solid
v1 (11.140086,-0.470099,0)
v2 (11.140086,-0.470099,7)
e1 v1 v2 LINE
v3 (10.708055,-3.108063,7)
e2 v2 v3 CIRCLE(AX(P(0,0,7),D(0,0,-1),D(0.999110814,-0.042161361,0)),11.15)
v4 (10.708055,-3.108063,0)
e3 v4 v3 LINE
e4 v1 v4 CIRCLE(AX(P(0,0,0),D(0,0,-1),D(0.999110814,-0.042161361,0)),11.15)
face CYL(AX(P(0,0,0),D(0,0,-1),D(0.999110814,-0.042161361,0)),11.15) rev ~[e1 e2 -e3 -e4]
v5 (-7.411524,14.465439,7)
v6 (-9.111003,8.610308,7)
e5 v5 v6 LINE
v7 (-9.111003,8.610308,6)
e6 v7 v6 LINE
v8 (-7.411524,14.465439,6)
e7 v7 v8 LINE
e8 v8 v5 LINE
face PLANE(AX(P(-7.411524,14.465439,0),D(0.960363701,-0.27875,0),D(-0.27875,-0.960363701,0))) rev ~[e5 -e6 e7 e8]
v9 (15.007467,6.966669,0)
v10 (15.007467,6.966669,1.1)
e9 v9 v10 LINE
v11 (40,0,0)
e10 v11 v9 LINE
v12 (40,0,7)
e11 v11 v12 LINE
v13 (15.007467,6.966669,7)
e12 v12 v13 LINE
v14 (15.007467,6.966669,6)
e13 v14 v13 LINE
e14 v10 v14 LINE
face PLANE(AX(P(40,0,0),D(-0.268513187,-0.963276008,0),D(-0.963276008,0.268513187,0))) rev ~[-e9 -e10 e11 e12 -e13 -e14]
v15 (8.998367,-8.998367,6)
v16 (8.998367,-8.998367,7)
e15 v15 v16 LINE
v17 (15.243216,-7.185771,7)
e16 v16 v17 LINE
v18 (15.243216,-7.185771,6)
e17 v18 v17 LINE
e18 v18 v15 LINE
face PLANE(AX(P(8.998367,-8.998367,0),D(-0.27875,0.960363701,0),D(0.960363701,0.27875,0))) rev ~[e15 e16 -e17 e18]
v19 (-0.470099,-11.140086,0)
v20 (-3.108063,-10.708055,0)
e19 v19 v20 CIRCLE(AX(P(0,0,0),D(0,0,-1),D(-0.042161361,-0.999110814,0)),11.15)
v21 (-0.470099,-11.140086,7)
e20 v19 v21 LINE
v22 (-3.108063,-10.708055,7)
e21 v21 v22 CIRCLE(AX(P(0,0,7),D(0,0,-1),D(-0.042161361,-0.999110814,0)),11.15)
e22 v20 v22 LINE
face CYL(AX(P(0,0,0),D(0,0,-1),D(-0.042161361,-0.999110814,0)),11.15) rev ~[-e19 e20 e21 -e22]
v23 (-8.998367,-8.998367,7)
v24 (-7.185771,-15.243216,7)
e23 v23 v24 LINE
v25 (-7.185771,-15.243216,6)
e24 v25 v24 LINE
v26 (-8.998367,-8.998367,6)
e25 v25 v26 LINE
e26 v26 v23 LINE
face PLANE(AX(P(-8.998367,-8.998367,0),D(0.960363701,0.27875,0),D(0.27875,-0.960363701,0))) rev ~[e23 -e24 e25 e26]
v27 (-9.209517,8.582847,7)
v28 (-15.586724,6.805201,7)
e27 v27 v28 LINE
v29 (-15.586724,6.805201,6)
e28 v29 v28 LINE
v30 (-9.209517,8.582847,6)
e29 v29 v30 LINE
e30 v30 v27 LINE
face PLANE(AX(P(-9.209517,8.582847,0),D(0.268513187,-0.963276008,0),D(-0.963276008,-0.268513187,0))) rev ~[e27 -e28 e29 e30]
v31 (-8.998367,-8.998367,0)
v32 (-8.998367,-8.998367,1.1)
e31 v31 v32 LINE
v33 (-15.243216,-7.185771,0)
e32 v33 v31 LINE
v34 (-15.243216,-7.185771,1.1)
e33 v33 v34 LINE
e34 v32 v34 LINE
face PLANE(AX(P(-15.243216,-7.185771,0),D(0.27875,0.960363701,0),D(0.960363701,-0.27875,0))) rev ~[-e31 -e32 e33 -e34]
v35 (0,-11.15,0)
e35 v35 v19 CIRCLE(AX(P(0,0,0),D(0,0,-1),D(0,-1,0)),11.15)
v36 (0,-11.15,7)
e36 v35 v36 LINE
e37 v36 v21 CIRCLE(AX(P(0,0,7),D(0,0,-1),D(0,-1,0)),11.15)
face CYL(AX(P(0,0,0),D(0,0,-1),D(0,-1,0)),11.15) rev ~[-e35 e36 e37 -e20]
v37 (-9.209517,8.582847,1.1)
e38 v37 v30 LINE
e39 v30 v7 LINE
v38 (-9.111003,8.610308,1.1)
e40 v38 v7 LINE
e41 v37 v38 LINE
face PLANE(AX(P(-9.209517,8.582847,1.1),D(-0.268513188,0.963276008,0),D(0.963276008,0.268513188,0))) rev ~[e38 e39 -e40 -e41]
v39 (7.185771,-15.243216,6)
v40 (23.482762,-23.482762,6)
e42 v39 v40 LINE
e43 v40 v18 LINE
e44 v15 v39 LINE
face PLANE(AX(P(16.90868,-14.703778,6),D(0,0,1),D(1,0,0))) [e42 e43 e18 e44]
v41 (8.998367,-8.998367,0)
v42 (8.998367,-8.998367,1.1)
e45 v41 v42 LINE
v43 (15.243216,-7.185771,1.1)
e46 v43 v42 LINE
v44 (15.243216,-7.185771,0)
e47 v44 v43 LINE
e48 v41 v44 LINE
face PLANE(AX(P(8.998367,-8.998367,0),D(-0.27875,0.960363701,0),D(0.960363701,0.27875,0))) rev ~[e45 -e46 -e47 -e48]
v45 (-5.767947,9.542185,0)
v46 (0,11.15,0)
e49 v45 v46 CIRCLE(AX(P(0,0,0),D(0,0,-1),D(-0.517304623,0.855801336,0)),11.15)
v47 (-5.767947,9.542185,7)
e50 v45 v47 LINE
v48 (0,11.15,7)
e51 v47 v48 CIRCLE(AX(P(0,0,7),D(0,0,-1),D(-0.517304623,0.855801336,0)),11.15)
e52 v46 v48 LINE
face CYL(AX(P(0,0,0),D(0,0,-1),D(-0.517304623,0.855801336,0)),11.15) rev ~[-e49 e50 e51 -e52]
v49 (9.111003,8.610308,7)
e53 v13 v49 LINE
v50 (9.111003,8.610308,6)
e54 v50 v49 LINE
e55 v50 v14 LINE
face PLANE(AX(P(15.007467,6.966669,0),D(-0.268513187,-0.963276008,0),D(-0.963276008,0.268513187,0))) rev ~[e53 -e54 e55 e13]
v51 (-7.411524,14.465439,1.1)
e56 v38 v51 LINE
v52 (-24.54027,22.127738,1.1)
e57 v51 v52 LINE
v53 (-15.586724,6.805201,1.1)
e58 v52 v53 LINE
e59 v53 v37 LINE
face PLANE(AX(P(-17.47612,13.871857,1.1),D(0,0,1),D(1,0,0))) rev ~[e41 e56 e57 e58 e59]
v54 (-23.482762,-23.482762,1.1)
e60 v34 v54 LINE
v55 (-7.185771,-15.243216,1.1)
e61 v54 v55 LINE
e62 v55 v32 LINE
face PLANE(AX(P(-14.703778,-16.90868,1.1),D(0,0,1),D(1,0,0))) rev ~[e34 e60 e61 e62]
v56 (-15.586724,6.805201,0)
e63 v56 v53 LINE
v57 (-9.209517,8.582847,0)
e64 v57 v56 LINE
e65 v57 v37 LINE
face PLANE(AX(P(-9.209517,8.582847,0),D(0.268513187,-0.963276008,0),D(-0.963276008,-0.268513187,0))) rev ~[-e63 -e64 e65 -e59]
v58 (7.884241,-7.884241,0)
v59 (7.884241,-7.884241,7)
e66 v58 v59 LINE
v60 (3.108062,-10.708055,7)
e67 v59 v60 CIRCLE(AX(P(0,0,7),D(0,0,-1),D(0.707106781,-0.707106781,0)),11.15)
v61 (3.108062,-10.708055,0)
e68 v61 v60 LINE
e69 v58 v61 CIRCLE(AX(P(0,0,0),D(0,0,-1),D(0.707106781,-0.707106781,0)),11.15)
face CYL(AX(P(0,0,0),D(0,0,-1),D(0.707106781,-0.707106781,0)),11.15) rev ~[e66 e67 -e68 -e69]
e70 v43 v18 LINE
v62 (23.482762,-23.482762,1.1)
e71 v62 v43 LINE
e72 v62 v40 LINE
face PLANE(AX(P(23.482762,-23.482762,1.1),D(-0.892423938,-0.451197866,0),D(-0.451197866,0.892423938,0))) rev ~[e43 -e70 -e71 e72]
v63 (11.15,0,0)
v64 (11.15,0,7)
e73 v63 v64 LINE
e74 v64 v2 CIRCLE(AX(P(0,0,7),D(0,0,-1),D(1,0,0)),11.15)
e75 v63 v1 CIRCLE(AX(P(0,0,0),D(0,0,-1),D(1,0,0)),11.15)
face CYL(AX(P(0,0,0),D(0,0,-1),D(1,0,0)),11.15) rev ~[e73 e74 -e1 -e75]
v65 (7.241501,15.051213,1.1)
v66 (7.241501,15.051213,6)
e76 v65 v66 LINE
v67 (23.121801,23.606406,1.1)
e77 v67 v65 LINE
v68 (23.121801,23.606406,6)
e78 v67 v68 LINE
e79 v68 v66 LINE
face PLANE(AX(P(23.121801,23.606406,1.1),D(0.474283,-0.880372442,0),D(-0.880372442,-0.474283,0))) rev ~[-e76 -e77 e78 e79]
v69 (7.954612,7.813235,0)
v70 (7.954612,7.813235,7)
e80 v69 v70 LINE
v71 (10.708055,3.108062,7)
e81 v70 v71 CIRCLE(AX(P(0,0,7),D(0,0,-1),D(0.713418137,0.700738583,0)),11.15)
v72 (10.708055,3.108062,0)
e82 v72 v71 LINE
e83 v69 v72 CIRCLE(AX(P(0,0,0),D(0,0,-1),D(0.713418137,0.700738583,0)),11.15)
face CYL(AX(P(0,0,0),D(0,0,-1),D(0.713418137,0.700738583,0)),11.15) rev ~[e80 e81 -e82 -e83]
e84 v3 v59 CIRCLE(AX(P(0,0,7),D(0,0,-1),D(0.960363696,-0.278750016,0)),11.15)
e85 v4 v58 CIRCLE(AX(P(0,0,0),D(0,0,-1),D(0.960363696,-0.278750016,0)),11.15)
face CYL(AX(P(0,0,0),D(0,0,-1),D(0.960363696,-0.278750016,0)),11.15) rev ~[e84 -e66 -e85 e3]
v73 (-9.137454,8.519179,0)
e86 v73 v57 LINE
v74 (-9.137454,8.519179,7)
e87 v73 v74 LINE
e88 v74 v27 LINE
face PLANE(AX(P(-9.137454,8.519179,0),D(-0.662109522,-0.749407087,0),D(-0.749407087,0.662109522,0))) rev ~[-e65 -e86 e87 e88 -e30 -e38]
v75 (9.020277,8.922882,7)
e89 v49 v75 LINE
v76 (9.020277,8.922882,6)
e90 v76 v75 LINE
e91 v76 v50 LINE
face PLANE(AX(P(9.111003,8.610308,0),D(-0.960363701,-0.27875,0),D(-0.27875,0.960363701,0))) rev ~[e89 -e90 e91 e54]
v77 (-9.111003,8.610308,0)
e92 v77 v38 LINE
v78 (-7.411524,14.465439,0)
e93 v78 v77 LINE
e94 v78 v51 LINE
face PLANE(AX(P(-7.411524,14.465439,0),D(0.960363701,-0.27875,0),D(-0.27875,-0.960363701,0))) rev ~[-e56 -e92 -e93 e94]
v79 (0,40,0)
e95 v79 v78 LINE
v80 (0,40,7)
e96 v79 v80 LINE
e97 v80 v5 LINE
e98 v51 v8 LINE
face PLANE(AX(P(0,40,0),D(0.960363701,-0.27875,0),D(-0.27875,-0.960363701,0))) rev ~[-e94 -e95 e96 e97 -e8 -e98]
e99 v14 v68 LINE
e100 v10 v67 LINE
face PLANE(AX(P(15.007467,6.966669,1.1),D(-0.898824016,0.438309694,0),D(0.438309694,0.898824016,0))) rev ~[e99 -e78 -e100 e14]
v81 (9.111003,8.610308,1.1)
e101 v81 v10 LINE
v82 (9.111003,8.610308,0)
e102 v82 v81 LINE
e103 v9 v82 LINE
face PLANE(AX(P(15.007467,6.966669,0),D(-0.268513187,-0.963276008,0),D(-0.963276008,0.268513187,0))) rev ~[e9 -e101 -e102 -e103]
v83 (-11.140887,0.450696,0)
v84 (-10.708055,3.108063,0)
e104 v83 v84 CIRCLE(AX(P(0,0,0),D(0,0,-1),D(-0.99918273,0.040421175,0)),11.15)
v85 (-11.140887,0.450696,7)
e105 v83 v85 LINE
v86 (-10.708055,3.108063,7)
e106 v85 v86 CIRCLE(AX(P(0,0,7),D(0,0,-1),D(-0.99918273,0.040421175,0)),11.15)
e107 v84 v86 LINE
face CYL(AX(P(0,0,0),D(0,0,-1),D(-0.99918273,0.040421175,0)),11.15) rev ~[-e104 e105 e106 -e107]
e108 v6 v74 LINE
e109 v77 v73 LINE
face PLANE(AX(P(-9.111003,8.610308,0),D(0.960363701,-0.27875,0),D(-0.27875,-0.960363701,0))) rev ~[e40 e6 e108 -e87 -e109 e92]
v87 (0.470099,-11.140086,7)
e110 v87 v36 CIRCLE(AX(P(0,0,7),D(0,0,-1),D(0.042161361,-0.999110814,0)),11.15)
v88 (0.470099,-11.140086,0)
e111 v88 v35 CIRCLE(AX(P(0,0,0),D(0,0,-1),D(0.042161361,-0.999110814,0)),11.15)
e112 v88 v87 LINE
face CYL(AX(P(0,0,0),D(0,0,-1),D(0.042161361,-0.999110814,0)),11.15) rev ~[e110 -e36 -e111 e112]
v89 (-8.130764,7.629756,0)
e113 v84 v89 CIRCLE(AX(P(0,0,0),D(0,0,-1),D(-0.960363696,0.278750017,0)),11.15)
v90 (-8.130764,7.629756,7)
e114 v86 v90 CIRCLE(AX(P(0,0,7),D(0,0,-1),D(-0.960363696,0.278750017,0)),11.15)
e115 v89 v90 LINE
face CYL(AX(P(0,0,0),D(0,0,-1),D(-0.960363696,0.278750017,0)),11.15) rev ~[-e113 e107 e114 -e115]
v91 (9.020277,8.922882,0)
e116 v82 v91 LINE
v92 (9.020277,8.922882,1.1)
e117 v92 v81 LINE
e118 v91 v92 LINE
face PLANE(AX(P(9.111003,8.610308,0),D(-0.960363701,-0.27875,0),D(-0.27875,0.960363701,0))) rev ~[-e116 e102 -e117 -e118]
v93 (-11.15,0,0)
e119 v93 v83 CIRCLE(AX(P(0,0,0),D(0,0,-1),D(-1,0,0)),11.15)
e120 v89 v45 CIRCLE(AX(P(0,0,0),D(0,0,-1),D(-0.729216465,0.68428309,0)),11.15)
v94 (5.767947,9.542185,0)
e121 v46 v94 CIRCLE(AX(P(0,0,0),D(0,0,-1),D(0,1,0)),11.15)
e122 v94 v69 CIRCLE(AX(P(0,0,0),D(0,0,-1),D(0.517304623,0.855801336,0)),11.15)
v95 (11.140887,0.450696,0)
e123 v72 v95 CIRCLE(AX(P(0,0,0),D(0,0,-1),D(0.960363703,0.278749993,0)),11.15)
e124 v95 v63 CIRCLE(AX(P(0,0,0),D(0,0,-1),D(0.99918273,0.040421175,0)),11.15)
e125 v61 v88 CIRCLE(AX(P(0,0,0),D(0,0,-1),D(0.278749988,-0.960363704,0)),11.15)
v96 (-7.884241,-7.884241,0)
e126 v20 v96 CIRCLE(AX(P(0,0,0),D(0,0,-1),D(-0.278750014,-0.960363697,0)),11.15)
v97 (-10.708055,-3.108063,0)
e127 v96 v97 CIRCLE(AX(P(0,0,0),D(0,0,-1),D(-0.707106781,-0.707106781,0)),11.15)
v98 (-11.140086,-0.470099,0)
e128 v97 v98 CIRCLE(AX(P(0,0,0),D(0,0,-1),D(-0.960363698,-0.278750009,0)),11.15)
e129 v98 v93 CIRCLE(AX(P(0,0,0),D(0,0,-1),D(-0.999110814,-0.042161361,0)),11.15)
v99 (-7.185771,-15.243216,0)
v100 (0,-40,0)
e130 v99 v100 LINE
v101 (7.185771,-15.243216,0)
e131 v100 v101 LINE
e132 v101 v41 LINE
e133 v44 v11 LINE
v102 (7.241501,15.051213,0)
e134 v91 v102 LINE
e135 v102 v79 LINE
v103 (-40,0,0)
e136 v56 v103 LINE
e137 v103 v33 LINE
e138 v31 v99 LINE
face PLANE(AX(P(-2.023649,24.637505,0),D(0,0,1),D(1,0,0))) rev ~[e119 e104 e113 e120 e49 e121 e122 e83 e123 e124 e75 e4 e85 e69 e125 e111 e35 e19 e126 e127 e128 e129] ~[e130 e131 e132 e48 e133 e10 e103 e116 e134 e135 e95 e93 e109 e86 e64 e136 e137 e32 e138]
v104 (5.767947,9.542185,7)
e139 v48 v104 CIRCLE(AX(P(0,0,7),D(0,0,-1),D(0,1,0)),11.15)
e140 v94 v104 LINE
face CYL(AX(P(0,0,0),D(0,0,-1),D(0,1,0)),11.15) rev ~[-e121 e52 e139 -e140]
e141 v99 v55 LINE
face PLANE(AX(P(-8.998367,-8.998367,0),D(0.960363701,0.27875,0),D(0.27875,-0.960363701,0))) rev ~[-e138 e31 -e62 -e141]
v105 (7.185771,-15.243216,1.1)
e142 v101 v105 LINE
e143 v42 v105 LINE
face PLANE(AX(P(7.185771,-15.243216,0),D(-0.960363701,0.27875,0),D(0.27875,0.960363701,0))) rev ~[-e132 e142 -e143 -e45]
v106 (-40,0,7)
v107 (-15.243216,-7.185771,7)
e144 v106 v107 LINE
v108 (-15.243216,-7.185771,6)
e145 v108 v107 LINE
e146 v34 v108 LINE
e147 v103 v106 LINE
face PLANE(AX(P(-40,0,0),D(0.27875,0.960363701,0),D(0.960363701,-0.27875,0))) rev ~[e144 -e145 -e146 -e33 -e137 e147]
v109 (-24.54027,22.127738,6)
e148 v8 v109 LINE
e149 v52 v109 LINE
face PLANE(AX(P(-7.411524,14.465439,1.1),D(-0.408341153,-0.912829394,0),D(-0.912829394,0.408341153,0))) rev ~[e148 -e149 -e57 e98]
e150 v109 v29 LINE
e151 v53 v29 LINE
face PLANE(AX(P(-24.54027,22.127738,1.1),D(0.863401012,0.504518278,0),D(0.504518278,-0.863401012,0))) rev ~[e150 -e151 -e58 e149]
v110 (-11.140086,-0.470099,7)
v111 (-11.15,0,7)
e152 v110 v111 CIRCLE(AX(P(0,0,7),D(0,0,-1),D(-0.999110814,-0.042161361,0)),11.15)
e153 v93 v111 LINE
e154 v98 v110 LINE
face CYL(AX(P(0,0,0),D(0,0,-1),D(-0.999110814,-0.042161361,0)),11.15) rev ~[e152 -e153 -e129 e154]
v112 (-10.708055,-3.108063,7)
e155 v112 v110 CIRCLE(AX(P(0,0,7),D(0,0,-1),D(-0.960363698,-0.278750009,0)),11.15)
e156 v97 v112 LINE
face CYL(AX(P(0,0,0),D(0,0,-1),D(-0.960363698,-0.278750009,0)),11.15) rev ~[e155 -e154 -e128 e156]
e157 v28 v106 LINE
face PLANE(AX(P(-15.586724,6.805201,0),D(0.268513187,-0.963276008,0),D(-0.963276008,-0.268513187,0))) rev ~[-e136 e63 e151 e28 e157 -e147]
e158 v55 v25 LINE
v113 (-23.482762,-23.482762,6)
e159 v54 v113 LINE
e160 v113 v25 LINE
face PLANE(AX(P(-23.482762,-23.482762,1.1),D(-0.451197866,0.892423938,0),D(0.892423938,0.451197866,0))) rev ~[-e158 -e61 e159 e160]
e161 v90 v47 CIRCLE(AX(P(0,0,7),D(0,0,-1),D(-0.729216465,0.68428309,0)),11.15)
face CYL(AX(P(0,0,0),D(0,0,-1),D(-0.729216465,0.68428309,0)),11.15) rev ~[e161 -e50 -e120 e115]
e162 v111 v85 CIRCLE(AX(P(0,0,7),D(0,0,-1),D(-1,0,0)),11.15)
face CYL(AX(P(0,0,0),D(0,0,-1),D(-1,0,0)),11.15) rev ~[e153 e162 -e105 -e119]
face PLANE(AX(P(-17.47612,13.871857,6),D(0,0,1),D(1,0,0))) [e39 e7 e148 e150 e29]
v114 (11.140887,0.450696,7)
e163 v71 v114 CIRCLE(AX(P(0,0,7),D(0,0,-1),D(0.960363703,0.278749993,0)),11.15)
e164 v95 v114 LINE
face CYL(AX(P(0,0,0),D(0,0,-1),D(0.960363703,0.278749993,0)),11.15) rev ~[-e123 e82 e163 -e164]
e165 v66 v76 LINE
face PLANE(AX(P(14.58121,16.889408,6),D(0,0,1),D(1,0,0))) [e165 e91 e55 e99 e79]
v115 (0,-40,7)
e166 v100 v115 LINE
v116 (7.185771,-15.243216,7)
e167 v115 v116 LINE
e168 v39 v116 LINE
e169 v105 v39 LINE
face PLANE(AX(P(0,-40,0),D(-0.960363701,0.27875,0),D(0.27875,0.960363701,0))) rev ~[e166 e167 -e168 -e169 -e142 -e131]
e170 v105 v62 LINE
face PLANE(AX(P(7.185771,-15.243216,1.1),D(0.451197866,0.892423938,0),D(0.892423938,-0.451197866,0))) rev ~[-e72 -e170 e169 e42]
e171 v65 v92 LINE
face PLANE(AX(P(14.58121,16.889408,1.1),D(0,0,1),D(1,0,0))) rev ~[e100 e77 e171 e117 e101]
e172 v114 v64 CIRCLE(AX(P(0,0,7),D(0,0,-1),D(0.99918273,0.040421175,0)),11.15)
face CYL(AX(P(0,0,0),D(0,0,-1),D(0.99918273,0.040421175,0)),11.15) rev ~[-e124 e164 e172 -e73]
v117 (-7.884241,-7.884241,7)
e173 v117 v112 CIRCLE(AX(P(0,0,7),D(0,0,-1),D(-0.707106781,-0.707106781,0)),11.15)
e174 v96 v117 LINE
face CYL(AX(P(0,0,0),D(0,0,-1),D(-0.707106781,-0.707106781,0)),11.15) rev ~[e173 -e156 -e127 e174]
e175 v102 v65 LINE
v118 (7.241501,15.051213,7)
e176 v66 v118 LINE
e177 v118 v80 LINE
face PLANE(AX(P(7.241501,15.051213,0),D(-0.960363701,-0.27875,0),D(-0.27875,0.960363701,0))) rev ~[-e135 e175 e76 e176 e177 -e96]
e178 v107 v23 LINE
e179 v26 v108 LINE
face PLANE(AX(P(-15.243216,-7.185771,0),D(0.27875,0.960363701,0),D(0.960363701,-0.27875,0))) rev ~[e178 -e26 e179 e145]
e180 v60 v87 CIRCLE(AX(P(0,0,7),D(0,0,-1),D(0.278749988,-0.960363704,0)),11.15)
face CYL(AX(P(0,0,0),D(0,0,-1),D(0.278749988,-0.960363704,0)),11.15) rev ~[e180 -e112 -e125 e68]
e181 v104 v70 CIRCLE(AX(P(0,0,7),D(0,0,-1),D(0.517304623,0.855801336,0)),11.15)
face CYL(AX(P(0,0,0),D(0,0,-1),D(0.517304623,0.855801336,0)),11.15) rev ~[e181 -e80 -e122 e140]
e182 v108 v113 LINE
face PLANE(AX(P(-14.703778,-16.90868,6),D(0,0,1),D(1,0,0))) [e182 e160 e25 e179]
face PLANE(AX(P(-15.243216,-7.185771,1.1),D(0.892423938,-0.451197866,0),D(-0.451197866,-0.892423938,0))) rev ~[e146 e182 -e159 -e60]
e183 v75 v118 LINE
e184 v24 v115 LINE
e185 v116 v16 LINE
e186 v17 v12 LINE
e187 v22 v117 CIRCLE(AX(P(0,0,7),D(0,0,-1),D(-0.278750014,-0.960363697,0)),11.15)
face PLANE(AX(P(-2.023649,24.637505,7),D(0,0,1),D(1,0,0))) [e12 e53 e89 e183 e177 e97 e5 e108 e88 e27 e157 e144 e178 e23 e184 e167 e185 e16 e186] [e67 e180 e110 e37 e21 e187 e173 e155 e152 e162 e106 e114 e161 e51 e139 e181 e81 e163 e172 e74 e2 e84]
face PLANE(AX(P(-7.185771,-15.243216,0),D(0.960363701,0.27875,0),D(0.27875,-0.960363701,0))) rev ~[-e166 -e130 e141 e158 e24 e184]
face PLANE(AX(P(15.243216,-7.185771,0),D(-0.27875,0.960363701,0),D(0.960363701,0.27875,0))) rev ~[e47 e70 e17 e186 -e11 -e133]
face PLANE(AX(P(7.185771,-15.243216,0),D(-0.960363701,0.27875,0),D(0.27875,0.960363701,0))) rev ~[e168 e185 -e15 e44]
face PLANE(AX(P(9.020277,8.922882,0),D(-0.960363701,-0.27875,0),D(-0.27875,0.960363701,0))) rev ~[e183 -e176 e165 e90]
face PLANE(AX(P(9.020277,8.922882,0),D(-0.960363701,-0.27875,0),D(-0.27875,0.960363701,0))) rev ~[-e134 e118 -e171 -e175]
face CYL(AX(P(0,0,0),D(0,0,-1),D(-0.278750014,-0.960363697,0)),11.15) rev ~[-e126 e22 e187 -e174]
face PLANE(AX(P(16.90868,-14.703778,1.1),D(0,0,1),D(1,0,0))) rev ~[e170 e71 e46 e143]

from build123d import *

# Parameters (mm, degrees)
F1_DEPTH = 7
F2_START = 1.1
F2_DEPTH = 4.9


with BuildPart() as f1:
    # F0 (on Top) → F1 (new body)
    with BuildSketch(Plane.XY):
        Polygon((-7.4115242199, 14.465439185), (0, 11.15), (0, 40), align=None)
        Polygon((0, 40), (0, 11.15), (7.2415005954, 15.0512132379), align=None)
        Polygon((-40, 0), (-11.6101847588, 0), (-15.5867241284, 6.8052006492), align=None)
        Polygon((-15.2432164393, -7.1857707793), (-11.6101847588, 0), (-40, 0), align=None)
        Polygon((0, -40), (0, -11.6101847588), (-7.1857707793, -15.2432164393), align=None)
        Polygon((7.1857707793, -15.2432164393), (0, -11.6101847588), (0, -40), align=None)
        Polygon((40, 0), (11.6101847588, 0), (15.2432164393, -7.1857707793), align=None)
        Polygon((15.0074665088, 6.9666687107), (11.6101847588, 0), (40, 0), align=None)
        with BuildLine():
            ThreePointArc((-5.7679465413, 9.5421849016), (-2.9939220387, 10.7405274929), (0, 11.15))
            Line((0, 11.15), (-7.4115242199, 14.465439185))
            Line((-7.4115242199, 14.465439185), (-9.1110031263, 8.6103078786))
            Line((-9.1110031263, 8.6103078786), (-5.7679465413, 9.5421849016))
        make_face()
        Polygon((10.7080552853, 3.1080624202), (11.6101847588, 0), (15.0074665088, 6.9666687107), (9.1110031263, 8.6103078786), align=None)
        Polygon((-10.7080552332, -3.1080625996), (-11.6101847588, 0), (-15.2432164393, -7.1857707793), (-8.9983671347, -8.9983671347), align=None)
        Polygon((-7.1857707793, -15.2432164393), (0, -11.6101847588), (-3.1080626541, -10.7080552174), (-8.9983671347, -8.9983671347), align=None)
        Polygon((7.1857707793, -15.2432164393), (8.9983671347, -8.9983671347), (3.1080623688, -10.7080553002), (0, -11.6101847588), align=None)
        Polygon((15.2432164393, -7.1857707793), (11.6101847588, 0), (10.708055209, -3.1080626829), (8.9983671347, -8.9983671347), align=None)
        with BuildLine():
            Line((7.2415005954, 15.0512132379), (0, 11.15))
            ThreePointArc((0, 11.15), (2.9939220387, 10.7405274929), (5.7679465413, 9.5421849016))
            Line((5.7679465413, 9.5421849016), (8.8026408844, 8.6962638535))
            Line((8.8026408844, 8.6962638535), (9.02027697, 8.9228822539))
            Line((9.02027697, 8.9228822539), (7.2415005954, 15.0512132379))
        make_face()
        Polygon((-15.5867241284, 6.8052006492), (-11.6101847588, 0), (-10.7080552075, 3.108062688), (-9.1374538419, 8.5191785256), (-9.2095170056, 8.5828471347), align=None)
        with BuildLine():
            ThreePointArc((-10.7080552075, 3.108062688), (-9.6869346026, 5.5213945707), (-8.1307635844, 7.6297564532))
            Line((-8.1307635844, 7.6297564532), (-9.1374538419, 8.5191785256))
            Line((-9.1374538419, 8.5191785256), (-10.7080552075, 3.108062688))
        make_face()
        with BuildLine():
            ThreePointArc((5.7679465413, 9.5421849016), (6.9155239519, 8.7463151367), (7.9546122238, 7.813235205))
            Line((7.9546122238, 7.813235205), (8.8026408844, 8.6962638535))
            Line((8.8026408844, 8.6962638535), (5.7679465413, 9.5421849016))
        make_face()
        with BuildLine():
            ThreePointArc((-8.1307635844, 7.6297564532), (-7.0148329583, 8.6668690176), (-5.7679465413, 9.5421849016))
            Line((-5.7679465413, 9.5421849016), (-9.1110031263, 8.6103078786))
            Line((-9.1110031263, 8.6103078786), (-9.1374538419, 8.5191785256))
            Line((-9.1374538419, 8.5191785256), (-8.1307635844, 7.6297564532))
        make_face()
        with BuildLine():
            ThreePointArc((7.9546122238, 7.813235205), (9.6233285495, 5.631522674), (10.7080552853, 3.1080624202))
            Line((10.7080552853, 3.1080624202), (9.1110031263, 8.6103078786))
            Line((9.1110031263, 8.6103078786), (8.8026408844, 8.6962638535))
            Line((8.8026408844, 8.6962638535), (7.9546122238, 7.813235205))
        make_face()
        with BuildLine():
            Line((8.9983671347, -8.9983671347), (7.8842406102, -7.8842406102))
            ThreePointArc((7.8842406102, -7.8842406102), (5.6746069068, -9.5979860624), (3.1080623688, -10.7080553002))
            Line((3.1080623688, -10.7080553002), (8.9983671347, -8.9983671347))
        make_face()
        with BuildLine():
            Line((8.9983671347, -8.9983671347), (10.708055209, -3.1080626829))
            ThreePointArc((10.708055209, -3.1080626829), (9.5979859792, -5.6746070475), (7.8842406102, -7.8842406102))
            Line((7.8842406102, -7.8842406102), (8.9983671347, -8.9983671347))
        make_face()
        with BuildLine():
            Line((-8.9983671347, -8.9983671347), (-3.1080626541, -10.7080552174))
            ThreePointArc((-3.1080626541, -10.7080552174), (-5.6746070346, -9.5979859868), (-7.8842406102, -7.8842406102))
            Line((-7.8842406102, -7.8842406102), (-8.9983671347, -8.9983671347))
        make_face()
        with BuildLine():
            ThreePointArc((-7.8842406102, -7.8842406102), (-9.5979860012, -5.6746070102), (-10.7080552332, -3.1080625996))
            Line((-10.7080552332, -3.1080625996), (-8.9983671347, -8.9983671347))
            Line((-8.9983671347, -8.9983671347), (-7.8842406102, -7.8842406102))
        make_face()
        with BuildLine():
            ThreePointArc((-10.7080552332, -3.1080625996), (-11.0034097906, -1.8020746324), (-11.1400855815, -0.4700991772))
            Line((-11.1400855815, -0.4700991772), (-11.6101847588, 0))
            Line((-11.6101847588, 0), (-10.7080552332, -3.1080625996))
        make_face()
        with BuildLine():
            ThreePointArc((-11.1400855815, -0.4700991772), (-11.1475211198, -0.2351018567), (-11.15, 0))
            Line((-11.15, 0), (-11.6101847588, 0))
            Line((-11.6101847588, 0), (-11.1400855815, -0.4700991772))
        make_face()
        with BuildLine():
            Line((-11.6101847588, 0), (-11.15, 0))
            ThreePointArc((-11.15, 0), (-11.147721628, 0.22539411), (-11.1408874431, 0.4506961068))
            Line((-11.1408874431, 0.4506961068), (-11.6101847588, 0))
        make_face()
        with BuildLine():
            Line((-11.6101847588, 0), (-11.1408874431, 0.4506961068))
            ThreePointArc((-11.1408874431, 0.4506961068), (-11.0049749216, 1.7924918343), (-10.7080552075, 3.108062688))
            Line((-10.7080552075, 3.108062688), (-11.6101847588, 0))
        make_face()
        with BuildLine():
            Line((11.6101847588, 0), (11.1400855815, -0.4700991772))
            ThreePointArc((11.1400855815, -0.4700991772), (11.0034097836, -1.8020746752), (10.708055209, -3.1080626829))
            Line((10.708055209, -3.1080626829), (11.6101847588, 0))
        make_face()
        with BuildLine():
            Line((11.6101847588, 0), (11.15, 0))
            ThreePointArc((11.15, 0), (11.1475211198, -0.2351018567), (11.1400855815, -0.4700991772))
            Line((11.1400855815, -0.4700991772), (11.6101847588, 0))
        make_face()
        with BuildLine():
            ThreePointArc((11.1408874431, 0.4506961068), (11.147721628, 0.22539411), (11.15, 0))
            Line((11.15, 0), (11.6101847588, 0))
            Line((11.6101847588, 0), (11.1408874431, 0.4506961068))
        make_face()
        with BuildLine():
            ThreePointArc((10.7080552853, 3.1080624202), (11.004974944, 1.7924916967), (11.1408874431, 0.4506961068))
            Line((11.1408874431, 0.4506961068), (11.6101847588, 0))
            Line((11.6101847588, 0), (10.7080552853, 3.1080624202))
        make_face()
        Polygon((8.8026408844, 8.6962638535), (9.1110031263, 8.6103078786), (9.02027697, 8.9228822539), align=None)
        with BuildLine():
            Line((0, -11.6101847588), (-0.4700991772, -11.1400855815))
            ThreePointArc((-0.4700991772, -11.1400855815), (-1.8020746604, -11.003409786), (-3.1080626541, -10.7080552174))
            Line((-3.1080626541, -10.7080552174), (0, -11.6101847588))
        make_face()
        with BuildLine():
            ThreePointArc((0.4700991772, -11.1400855815), (0.2351018567, -11.1475211198), (0, -11.15))
            Line((0, -11.15), (0, -11.6101847588))
            Line((0, -11.6101847588), (0.4700991772, -11.1400855815))
        make_face()
        with BuildLine():
            ThreePointArc((3.1080623688, -10.7080553002), (1.8020745138, -11.00340981), (0.4700991772, -11.1400855815))
            Line((0.4700991772, -11.1400855815), (0, -11.6101847588))
            Line((0, -11.6101847588), (3.1080623688, -10.7080553002))
        make_face()
        with BuildLine():
            Line((0, -11.6101847588), (0, -11.15))
            ThreePointArc((0, -11.15), (-0.2351018567, -11.1475211198), (-0.4700991772, -11.1400855815))
            Line((-0.4700991772, -11.1400855815), (0, -11.6101847588))
        make_face()
    extrude(amount=F1_DEPTH)

    # F0 (on Top) → F2 (join)
    with BuildSketch(Plane.XY.offset(F2_START)):
        Polygon((-9.2095170056, 8.5828471347), (-24.540269553, 22.1277380295), (-15.5867241284, 6.8052006492), align=None)
        Polygon((-9.1110031263, 8.6103078786), (-7.4115242199, 14.465439185), (-24.540269553, 22.1277380295), (-9.2095170056, 8.5828471347), align=None)
        Polygon((23.1218005728, 23.6064064161), (7.2415005954, 15.0512132379), (9.02027697, 8.9228822539), align=None)
        Polygon((9.1110031263, 8.6103078786), (15.0074665088, 6.9666687107), (23.1218005728, 23.6064064161), (9.02027697, 8.9228822539), align=None)
        Polygon((23.482761909, -23.482761909), (15.2432164393, -7.1857707793), (8.9983671347, -8.9983671347), align=None)
        Polygon((23.482761909, -23.482761909), (8.9983671347, -8.9983671347), (7.1857707793, -15.2432164393), align=None)
        Polygon((-23.482761909, -23.482761909), (-7.1857707793, -15.2432164393), (-8.9983671347, -8.9983671347), align=None)
        Polygon((-8.9983671347, -8.9983671347), (-15.2432164393, -7.1857707793), (-23.482761909, -23.482761909), align=None)
    extrude(amount=F2_DEPTH)


solid = f1.part
